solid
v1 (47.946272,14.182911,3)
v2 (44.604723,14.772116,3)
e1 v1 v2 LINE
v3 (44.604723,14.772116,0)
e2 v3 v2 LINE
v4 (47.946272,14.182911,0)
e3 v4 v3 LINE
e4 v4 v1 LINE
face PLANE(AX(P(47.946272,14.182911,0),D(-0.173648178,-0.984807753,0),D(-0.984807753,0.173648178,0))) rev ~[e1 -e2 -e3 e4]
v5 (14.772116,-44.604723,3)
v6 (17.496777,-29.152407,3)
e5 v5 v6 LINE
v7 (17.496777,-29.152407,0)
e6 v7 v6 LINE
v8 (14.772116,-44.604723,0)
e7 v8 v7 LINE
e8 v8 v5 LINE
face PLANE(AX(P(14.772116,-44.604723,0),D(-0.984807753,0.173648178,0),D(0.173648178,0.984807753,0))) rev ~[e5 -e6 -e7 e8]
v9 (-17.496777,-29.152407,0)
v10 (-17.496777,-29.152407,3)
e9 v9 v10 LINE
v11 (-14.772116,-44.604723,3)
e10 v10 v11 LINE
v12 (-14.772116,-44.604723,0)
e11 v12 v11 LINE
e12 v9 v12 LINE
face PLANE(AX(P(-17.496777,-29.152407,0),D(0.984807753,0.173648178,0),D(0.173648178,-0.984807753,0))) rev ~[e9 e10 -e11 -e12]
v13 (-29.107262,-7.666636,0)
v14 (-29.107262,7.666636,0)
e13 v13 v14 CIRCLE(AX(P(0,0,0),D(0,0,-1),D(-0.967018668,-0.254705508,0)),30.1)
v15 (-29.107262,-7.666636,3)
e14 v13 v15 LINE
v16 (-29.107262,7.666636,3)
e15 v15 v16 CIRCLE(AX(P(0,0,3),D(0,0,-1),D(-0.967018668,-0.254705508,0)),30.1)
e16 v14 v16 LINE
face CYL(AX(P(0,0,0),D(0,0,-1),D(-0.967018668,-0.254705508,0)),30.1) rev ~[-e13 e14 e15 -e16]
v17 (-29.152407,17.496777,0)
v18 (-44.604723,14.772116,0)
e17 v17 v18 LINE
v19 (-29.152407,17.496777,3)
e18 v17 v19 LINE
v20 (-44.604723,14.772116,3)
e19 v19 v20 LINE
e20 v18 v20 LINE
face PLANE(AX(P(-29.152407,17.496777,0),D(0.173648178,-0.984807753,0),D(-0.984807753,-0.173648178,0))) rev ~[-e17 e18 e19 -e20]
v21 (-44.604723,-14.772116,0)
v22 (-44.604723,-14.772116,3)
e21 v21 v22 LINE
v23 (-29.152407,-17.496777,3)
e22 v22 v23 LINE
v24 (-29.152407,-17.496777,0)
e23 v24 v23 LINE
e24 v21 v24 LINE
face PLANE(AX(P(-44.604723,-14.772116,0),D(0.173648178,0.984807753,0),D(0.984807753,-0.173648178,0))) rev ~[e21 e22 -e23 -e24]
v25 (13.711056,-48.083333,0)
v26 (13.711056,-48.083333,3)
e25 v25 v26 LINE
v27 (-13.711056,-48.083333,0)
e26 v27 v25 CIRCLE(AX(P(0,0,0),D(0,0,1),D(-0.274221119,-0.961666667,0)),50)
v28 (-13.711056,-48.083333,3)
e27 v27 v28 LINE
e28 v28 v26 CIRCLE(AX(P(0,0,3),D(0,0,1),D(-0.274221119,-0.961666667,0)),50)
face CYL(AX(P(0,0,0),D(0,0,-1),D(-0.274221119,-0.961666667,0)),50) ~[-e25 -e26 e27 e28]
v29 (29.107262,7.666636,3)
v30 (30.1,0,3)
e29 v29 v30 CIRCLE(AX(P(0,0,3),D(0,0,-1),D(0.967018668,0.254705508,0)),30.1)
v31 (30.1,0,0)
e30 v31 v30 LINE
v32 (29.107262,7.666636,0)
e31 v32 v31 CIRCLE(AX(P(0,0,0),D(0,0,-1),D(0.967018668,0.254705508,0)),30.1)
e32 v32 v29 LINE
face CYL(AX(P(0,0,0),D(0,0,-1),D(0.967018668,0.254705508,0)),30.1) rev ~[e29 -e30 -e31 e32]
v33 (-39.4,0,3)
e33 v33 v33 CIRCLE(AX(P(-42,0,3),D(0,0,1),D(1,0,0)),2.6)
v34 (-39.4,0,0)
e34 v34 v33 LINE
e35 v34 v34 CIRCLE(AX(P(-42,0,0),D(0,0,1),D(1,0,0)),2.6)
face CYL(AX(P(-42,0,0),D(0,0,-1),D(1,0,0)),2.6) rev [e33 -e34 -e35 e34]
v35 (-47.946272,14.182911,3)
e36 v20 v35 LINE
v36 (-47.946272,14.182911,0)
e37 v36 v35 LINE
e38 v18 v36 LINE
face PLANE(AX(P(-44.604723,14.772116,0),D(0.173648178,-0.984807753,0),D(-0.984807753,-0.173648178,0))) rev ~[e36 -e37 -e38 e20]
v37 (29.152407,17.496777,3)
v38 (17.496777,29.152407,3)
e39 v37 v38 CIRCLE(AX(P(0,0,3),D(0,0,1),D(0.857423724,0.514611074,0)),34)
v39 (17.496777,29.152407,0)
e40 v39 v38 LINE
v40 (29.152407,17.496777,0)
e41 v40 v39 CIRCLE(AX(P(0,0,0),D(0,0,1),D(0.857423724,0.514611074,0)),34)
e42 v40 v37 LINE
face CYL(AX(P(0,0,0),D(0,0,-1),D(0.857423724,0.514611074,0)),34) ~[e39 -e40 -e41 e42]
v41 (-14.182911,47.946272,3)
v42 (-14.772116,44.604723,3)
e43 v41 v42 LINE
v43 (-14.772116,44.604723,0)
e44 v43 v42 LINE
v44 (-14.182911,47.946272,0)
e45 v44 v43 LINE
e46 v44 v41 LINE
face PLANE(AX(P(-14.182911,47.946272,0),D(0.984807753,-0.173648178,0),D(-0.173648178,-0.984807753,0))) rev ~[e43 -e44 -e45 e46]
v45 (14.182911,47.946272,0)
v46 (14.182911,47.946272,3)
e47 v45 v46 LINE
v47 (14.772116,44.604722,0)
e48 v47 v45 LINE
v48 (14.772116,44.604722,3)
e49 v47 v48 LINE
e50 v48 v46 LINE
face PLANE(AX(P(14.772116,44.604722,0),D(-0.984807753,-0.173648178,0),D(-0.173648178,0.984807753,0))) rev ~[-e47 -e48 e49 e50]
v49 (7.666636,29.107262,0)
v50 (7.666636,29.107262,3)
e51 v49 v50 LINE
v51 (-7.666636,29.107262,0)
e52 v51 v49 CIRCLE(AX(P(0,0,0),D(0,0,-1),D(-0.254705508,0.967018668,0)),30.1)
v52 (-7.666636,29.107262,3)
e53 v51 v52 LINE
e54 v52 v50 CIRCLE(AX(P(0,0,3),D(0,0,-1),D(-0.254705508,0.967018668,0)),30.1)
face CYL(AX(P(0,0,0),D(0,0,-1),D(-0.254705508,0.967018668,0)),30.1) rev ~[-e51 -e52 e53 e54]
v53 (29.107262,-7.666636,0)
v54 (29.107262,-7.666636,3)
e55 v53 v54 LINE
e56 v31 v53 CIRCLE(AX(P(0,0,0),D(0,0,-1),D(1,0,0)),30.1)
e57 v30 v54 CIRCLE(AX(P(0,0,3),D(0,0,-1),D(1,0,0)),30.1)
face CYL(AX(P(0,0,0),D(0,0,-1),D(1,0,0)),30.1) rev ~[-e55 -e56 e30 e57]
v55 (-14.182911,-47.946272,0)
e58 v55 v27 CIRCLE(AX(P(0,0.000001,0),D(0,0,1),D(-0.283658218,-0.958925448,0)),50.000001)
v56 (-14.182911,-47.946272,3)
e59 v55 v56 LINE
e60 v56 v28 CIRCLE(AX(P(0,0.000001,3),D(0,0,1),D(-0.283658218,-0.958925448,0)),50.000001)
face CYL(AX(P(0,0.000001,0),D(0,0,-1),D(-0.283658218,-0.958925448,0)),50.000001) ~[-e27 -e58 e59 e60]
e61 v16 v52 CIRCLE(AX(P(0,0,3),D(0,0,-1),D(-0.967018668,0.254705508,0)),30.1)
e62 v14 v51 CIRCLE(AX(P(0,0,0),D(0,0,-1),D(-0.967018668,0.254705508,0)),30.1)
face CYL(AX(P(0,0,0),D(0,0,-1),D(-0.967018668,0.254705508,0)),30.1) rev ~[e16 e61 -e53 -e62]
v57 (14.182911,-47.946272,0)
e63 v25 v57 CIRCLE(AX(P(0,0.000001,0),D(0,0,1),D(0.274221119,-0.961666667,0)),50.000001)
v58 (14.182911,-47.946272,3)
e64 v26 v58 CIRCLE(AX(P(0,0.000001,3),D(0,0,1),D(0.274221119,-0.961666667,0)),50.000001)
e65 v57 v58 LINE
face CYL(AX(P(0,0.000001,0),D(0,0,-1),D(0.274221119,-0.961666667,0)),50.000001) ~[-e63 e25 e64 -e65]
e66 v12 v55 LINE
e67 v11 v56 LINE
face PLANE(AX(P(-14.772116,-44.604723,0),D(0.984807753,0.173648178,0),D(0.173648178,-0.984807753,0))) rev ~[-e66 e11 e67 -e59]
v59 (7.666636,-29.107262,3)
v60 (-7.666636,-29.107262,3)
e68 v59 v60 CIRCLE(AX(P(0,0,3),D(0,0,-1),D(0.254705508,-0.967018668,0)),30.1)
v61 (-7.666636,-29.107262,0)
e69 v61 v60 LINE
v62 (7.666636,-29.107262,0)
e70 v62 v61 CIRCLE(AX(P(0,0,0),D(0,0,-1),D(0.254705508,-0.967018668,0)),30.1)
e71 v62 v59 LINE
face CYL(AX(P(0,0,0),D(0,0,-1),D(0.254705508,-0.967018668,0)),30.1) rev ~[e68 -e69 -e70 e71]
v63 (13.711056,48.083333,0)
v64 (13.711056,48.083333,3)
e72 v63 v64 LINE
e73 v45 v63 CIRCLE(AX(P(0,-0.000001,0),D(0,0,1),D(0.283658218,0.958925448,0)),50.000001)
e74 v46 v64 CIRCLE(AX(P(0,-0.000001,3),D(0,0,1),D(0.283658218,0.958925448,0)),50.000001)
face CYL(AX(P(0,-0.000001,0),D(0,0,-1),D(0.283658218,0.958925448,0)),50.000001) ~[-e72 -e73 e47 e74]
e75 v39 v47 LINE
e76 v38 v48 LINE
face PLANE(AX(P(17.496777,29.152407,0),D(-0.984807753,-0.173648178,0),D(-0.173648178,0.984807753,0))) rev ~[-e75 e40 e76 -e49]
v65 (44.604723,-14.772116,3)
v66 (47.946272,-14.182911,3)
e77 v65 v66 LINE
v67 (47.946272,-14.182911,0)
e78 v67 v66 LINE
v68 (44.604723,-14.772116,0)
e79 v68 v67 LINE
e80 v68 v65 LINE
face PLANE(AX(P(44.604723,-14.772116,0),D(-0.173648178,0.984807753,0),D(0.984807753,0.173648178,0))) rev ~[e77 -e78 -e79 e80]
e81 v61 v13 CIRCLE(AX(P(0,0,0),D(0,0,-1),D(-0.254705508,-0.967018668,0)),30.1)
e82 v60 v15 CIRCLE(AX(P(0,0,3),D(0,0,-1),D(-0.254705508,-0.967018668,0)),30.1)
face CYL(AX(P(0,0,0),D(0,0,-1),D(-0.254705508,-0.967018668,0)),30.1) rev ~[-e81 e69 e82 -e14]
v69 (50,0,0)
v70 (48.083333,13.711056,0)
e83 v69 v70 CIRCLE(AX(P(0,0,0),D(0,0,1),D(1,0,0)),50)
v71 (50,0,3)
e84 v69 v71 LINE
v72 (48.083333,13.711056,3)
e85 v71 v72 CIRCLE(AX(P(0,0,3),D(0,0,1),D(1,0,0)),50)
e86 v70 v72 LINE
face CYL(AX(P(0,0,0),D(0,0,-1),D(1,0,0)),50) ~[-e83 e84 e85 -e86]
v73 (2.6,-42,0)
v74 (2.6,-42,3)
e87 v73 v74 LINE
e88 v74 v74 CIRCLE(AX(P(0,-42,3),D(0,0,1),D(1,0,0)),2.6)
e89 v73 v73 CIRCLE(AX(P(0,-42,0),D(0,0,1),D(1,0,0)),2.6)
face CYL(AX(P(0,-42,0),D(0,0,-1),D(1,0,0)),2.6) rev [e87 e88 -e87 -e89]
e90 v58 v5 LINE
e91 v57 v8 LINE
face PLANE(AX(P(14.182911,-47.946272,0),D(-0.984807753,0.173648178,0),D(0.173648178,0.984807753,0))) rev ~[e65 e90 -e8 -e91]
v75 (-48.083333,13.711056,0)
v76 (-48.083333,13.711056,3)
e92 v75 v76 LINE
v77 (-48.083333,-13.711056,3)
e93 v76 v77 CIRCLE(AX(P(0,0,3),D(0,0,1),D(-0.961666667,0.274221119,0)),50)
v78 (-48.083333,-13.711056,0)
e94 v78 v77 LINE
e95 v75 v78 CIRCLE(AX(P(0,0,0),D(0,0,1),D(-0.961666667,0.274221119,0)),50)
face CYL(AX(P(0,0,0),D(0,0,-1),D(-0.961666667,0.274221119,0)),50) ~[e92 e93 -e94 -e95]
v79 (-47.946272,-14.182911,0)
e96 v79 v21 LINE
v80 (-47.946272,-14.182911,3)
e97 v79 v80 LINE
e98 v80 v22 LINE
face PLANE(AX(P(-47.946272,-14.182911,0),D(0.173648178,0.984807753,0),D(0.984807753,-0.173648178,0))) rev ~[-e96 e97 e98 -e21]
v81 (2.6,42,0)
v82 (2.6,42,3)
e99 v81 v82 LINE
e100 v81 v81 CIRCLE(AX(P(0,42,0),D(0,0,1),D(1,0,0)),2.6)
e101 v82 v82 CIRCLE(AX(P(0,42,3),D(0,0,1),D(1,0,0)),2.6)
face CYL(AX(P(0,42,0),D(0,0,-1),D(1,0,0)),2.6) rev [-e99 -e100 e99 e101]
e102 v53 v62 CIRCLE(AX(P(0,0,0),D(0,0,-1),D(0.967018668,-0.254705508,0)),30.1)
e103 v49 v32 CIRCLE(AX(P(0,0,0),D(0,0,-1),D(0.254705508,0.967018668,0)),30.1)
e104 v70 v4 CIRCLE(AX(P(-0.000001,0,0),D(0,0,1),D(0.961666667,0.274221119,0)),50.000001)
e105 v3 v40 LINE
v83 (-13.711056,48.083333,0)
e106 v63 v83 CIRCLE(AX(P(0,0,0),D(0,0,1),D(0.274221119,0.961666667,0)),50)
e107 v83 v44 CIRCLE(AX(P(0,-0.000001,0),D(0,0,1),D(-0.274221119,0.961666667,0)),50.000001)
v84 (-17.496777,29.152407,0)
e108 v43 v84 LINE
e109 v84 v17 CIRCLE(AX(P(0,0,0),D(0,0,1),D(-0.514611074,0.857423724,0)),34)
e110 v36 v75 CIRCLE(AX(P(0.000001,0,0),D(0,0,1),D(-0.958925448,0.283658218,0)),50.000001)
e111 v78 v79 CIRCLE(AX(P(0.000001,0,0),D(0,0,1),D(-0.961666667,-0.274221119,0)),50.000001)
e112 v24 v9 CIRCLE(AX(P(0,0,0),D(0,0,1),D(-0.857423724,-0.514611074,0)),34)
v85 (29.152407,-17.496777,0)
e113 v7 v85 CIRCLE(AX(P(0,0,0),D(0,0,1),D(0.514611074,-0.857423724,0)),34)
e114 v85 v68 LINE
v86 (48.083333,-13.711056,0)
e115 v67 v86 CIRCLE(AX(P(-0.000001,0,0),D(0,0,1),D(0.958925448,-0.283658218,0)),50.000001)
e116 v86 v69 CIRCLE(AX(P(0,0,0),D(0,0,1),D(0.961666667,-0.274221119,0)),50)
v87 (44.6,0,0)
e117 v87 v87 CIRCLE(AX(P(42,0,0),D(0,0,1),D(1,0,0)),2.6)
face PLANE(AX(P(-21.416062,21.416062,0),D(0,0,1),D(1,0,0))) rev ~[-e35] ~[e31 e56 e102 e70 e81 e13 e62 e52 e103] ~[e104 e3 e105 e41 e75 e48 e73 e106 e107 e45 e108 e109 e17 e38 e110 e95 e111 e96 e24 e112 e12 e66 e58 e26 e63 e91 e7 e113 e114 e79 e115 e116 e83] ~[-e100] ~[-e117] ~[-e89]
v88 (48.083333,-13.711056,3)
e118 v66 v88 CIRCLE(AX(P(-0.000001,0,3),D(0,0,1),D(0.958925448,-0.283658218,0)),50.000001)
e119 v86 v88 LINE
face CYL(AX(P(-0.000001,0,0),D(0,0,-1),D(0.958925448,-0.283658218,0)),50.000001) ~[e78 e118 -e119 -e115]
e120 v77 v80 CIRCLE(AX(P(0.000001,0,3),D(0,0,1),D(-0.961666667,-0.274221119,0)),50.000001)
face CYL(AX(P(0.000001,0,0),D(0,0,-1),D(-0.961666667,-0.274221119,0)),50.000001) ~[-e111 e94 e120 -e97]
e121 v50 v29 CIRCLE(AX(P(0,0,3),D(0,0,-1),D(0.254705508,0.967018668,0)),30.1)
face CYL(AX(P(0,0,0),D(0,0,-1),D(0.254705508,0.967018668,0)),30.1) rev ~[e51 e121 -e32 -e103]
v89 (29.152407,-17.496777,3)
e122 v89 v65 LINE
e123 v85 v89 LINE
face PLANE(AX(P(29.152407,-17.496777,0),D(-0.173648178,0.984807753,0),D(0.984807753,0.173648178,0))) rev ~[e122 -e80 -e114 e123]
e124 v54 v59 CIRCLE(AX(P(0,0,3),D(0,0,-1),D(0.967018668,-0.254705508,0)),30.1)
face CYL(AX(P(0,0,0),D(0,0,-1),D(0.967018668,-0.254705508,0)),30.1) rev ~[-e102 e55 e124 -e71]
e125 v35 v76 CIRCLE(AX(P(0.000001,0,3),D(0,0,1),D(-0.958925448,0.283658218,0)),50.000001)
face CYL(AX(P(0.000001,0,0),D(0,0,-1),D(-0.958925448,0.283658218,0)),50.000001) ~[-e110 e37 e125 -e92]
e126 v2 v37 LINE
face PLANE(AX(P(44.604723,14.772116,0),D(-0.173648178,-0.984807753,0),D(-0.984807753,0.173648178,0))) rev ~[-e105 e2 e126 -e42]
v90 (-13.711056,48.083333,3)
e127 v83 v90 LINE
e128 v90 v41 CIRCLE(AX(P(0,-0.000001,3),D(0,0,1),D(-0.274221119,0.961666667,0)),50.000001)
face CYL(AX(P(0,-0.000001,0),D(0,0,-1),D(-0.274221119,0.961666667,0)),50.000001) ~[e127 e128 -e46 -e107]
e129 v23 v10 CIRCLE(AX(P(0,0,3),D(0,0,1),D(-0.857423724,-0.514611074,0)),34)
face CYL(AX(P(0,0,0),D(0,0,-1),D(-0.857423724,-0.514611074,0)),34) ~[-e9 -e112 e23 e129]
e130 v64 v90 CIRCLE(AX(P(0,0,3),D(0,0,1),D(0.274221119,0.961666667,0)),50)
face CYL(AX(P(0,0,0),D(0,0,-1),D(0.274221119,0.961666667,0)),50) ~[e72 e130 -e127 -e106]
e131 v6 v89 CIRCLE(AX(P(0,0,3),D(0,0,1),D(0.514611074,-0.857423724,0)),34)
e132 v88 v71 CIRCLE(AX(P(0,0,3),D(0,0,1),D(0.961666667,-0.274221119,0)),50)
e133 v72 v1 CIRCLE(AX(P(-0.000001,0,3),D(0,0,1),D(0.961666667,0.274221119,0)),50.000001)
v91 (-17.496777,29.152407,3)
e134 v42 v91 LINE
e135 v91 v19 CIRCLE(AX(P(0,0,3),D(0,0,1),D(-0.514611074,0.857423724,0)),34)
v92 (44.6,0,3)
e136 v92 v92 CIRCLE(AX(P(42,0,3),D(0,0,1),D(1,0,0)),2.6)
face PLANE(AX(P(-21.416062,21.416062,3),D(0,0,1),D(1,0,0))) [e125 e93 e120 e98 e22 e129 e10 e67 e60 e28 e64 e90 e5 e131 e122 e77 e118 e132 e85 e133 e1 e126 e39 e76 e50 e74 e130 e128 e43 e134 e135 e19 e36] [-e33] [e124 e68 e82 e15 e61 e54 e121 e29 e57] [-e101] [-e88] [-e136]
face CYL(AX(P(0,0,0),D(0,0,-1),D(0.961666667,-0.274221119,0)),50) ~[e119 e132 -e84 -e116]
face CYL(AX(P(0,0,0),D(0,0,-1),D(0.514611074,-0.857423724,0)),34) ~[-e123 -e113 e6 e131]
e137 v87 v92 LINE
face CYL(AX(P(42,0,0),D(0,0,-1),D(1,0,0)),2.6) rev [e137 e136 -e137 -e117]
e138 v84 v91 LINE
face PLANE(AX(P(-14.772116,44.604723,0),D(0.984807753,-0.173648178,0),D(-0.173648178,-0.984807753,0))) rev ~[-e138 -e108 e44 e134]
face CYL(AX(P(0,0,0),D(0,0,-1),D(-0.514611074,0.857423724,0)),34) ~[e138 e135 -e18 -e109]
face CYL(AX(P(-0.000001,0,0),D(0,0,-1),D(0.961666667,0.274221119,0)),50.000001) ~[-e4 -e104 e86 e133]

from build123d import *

# Parameters (mm, degrees)
F0_R     = 2.6
F1_DEPTH = 3


with BuildPart() as f1:
    # F0 (on Top) → F1 (new body)
    with BuildSketch(Plane.XY):
        with BuildLine():
            ThreePointArc((-29.1072619048, 7.6666357946), (-21.2839141137, 21.2839141137), (-7.6666357946, 29.1072619048))
            ThreePointArc((-7.6666357946, 29.1072619048), (-9.5767893278, 30.4550831025), (-11.2543201582, 32.0833333333))
            ThreePointArc((-11.2543201582, 32.0833333333), (-14.4500509711, 30.7765499518), (-17.4967765305, 29.1524066081))
            ThreePointArc((-17.4967765305, 29.1524066081), (-24.0416305603, 24.0416305603), (-29.1524066081, 17.4967765305))
            ThreePointArc((-29.1524066081, 17.4967765305), (-30.7765499518, 14.4500509711), (-32.0833333333, 11.2543201582))
            ThreePointArc((-32.0833333333, 11.2543201582), (-30.4550831025, 9.5767893278), (-29.1072619048, 7.6666357946))
        make_face()
        with BuildLine():
            ThreePointArc((-17.4967765305, 29.1524066081), (-14.4500509711, 30.7765499518), (-11.2543201582, 32.0833333333))
            ThreePointArc((-11.2543201582, 32.0833333333), (-14.4409191932, 37.9429255793), (-14.7721162582, 44.6047228746))
            Line((-14.7721162582, 44.6047228746), (-17.4967765305, 29.1524066081))
        make_face()
        with BuildLine():
            ThreePointArc((-11.2543201582, 32.0833333333), (0, 34), (11.2543201582, 32.0833333333))
            ThreePointArc((11.2543201582, 32.0833333333), (14.0323697637, 36.6997548346), (15, 42))
            ThreePointArc((15, 42), (14.942920488, 43.3073359512), (14.7721163614, 44.6047222892))
            ThreePointArc((14.7721163614, 44.6047222892), (14.3474025552, 46.3763043677), (13.7110559606, 48.0833333333))
            ThreePointArc((13.7110559606, 48.0833333333), (0, 50), (-13.7110559606, 48.0833333333))
            ThreePointArc((-13.7110559606, 48.0833333333), (-14.3474024685, 46.376304652), (-14.7721162582, 44.6047228746))
            ThreePointArc((-14.7721162582, 44.6047228746), (-14.4409191932, 37.9429255793), (-11.2543201582, 32.0833333333))
        make_face()
        with Locations((0, 42)):
            Circle(F0_R, mode=Mode.SUBTRACT)
        with BuildLine():
            ThreePointArc((15, 42), (14.0323697637, 36.6997548346), (11.2543201582, 32.0833333333))
            ThreePointArc((11.2543201582, 32.0833333333), (14.4500509711, 30.7765499518), (17.4967765305, 29.1524066081))
            Line((17.4967765305, 29.1524066081), (14.7721163614, 44.6047222892))
            ThreePointArc((14.7721163614, 44.6047222892), (14.942920488, 43.3073359512), (15, 42))
        make_face()
        with BuildLine():
            ThreePointArc((-7.6666357946, 29.1072619048), (0, 30.1), (7.6666357946, 29.1072619048))
            ThreePointArc((7.6666357946, 29.1072619048), (9.5767893278, 30.4550831025), (11.2543201582, 32.0833333333))
            ThreePointArc((11.2543201582, 32.0833333333), (0, 34), (-11.2543201582, 32.0833333333))
            ThreePointArc((-11.2543201582, 32.0833333333), (-9.5767893278, 30.4550831025), (-7.6666357946, 29.1072619048))
        make_face()
        with BuildLine():
            ThreePointArc((7.6666357946, 29.1072619048), (21.2839141137, 21.2839141137), (29.1072619048, 7.6666357946))
            ThreePointArc((29.1072619048, 7.6666357946), (30.4550831025, 9.5767893278), (32.0833333333, 11.2543201582))
            ThreePointArc((32.0833333333, 11.2543201582), (30.7765499518, 14.4500509711), (29.1524066081, 17.4967765305))
            ThreePointArc((29.1524066081, 17.4967765305), (24.0416305603, 24.0416305603), (17.4967765305, 29.1524066081))
            ThreePointArc((17.4967765305, 29.1524066081), (14.4500509711, 30.7765499518), (11.2543201582, 32.0833333333))
            ThreePointArc((11.2543201582, 32.0833333333), (9.5767893278, 30.4550831025), (7.6666357946, 29.1072619048))
        make_face()
        with BuildLine():
            ThreePointArc((29.1524066081, 17.4967765305), (30.7765499518, 14.4500509711), (32.0833333333, 11.2543201582))
            ThreePointArc((32.0833333333, 11.2543201582), (37.9429254774, 14.4409191646), (44.6047226662, 14.772116295))
            Line((44.6047226662, 14.772116295), (29.1524066081, 17.4967765305))
        make_face()
        with BuildLine():
            ThreePointArc((44.6047226662, 14.772116295), (37.9429254774, 14.4409191646), (32.0833333333, 11.2543201582))
            ThreePointArc((32.0833333333, 11.2543201582), (33.5174084121, 5.7081812632), (34, 0))
            ThreePointArc((34, 0), (33.5174084121, -5.7081812632), (32.0833333333, -11.2543201582))
            ThreePointArc((32.0833333333, -11.2543201582), (37.9429254774, -14.4409191646), (44.6047226662, -14.772116295))
            ThreePointArc((44.6047226662, -14.772116295), (46.3763045508, -14.3474024994), (48.0833333333, -13.7110559606))
            ThreePointArc((48.0833333333, -13.7110559606), (49.5185150558, -6.9221865524), (50, 0))
            ThreePointArc((50, 0), (49.5185150558, 6.9221865524), (48.0833333333, 13.7110559606))
            ThreePointArc((48.0833333333, 13.7110559606), (46.3763045508, 14.3474024994), (44.6047226662, 14.772116295))
        make_face()
        with Locations((42, 0)):
            Circle(F0_R, mode=Mode.SUBTRACT)
        with BuildLine():
            Line((-14.182910918, 47.9462724087), (-14.7721162582, 44.6047228746))
            ThreePointArc((-14.7721162582, 44.6047228746), (-14.3474024685, 46.376304652), (-13.7110559606, 48.0833333333))
            ThreePointArc((-13.7110559606, 48.0833333333), (-13.9471518053, 48.0153824989), (-14.182910918, 47.9462724087))
        make_face()
        with BuildLine():
            ThreePointArc((13.7110559606, 48.0833333333), (14.3474025552, 46.3763043677), (14.7721163614, 44.6047222892))
            Line((14.7721163614, 44.6047222892), (14.182910918, 47.9462724087))
            ThreePointArc((14.182910918, 47.9462724087), (13.9471518053, 48.0153824989), (13.7110559606, 48.0833333333))
        make_face()
        with BuildLine():
            ThreePointArc((44.6047226662, -14.772116295), (37.9429254774, -14.4409191646), (32.0833333333, -11.2543201582))
            ThreePointArc((32.0833333333, -11.2543201582), (30.7765499518, -14.4500509711), (29.1524066081, -17.4967765305))
            Line((29.1524066081, -17.4967765305), (44.6047226662, -14.772116295))
        make_face()
        with BuildLine():
            ThreePointArc((32.0833333333, -11.2543201582), (30.4550831025, -9.5767893278), (29.1072619048, -7.6666357946))
            ThreePointArc((29.1072619048, -7.6666357946), (21.2839141137, -21.2839141137), (7.6666357946, -29.1072619048))
            ThreePointArc((7.6666357946, -29.1072619048), (9.5767893278, -30.4550831025), (11.2543201582, -32.0833333333))
            ThreePointArc((11.2543201582, -32.0833333333), (14.4500509711, -30.7765499518), (17.4967765305, -29.1524066081))
            ThreePointArc((17.4967765305, -29.1524066081), (24.0416305603, -24.0416305603), (29.1524066081, -17.4967765305))
            ThreePointArc((29.1524066081, -17.4967765305), (30.7765499518, -14.4500509711), (32.0833333333, -11.2543201582))
        make_face()
        with BuildLine():
            ThreePointArc((29.1072619048, 7.6666357946), (29.8507837697, 3.8653212458), (30.1, 0))
            ThreePointArc((30.1, 0), (29.8507837697, -3.8653212458), (29.1072619048, -7.6666357946))
            ThreePointArc((29.1072619048, -7.6666357946), (30.4550831025, -9.5767893278), (32.0833333333, -11.2543201582))
            ThreePointArc((32.0833333333, -11.2543201582), (33.5174084121, -5.7081812632), (34, 0))
            ThreePointArc((34, 0), (33.5174084121, 5.7081812632), (32.0833333333, 11.2543201582))
            ThreePointArc((32.0833333333, 11.2543201582), (30.4550831025, 9.5767893278), (29.1072619048, 7.6666357946))
        make_face()
        with BuildLine():
            ThreePointArc((48.0833333333, -13.7110559606), (46.3763045508, -14.3474024994), (44.6047226662, -14.772116295))
            Line((44.6047226662, -14.772116295), (47.9462724087, -14.182910918))
            ThreePointArc((47.9462724087, -14.182910918), (48.0153824989, -13.9471518053), (48.0833333333, -13.7110559606))
        make_face()
        with BuildLine():
            Line((47.9462724087, 14.182910918), (44.6047226662, 14.772116295))
            ThreePointArc((44.6047226662, 14.772116295), (46.3763045508, 14.3474024994), (48.0833333333, 13.7110559606))
            ThreePointArc((48.0833333333, 13.7110559606), (48.0153824989, 13.9471518053), (47.9462724087, 14.182910918))
        make_face()
        with BuildLine():
            ThreePointArc((11.2543201582, -32.0833333333), (9.5767893278, -30.4550831025), (7.6666357946, -29.1072619048))
            ThreePointArc((7.6666357946, -29.1072619048), (0, -30.1), (-7.6666357946, -29.1072619048))
            ThreePointArc((-7.6666357946, -29.1072619048), (-9.5767893278, -30.4550831025), (-11.2543201582, -32.0833333333))
            ThreePointArc((-11.2543201582, -32.0833333333), (0, -34), (11.2543201582, -32.0833333333))
        make_face()
        with BuildLine():
            ThreePointArc((15, -42), (14.0323697637, -36.6997548346), (11.2543201582, -32.0833333333))
            ThreePointArc((11.2543201582, -32.0833333333), (0, -34), (-11.2543201582, -32.0833333333))
            ThreePointArc((-11.2543201582, -32.0833333333), (-14.4409191558, -37.942925446), (-14.7721163063, -44.6047226018))
            ThreePointArc((-14.7721163063, -44.6047226018), (-14.3474025089, -46.3763045195), (-13.7110559606, -48.0833333333))
            ThreePointArc((-13.7110559606, -48.0833333333), (0, -50), (13.7110559606, -48.0833333333))
            ThreePointArc((13.7110559606, -48.0833333333), (14.3474024994, -46.3763045508), (14.772116295, -44.6047226662))
            ThreePointArc((14.772116295, -44.6047226662), (14.9429204713, -43.3073361418), (15, -42))
        make_face()
        with Locations((0, -42)):
            Circle(F0_R, mode=Mode.SUBTRACT)
        with BuildLine():
            ThreePointArc((-14.7721163063, -44.6047226018), (-14.4409191558, -37.942925446), (-11.2543201582, -32.0833333333))
            ThreePointArc((-11.2543201582, -32.0833333333), (-14.4500509711, -30.7765499518), (-17.4967765305, -29.1524066081))
            Line((-17.4967765305, -29.1524066081), (-14.7721163063, -44.6047226018))
        make_face()
        with BuildLine():
            ThreePointArc((-11.2543201582, -32.0833333333), (-9.5767893278, -30.4550831025), (-7.6666357946, -29.1072619048))
            ThreePointArc((-7.6666357946, -29.1072619048), (-21.2839141137, -21.2839141137), (-29.1072619048, -7.6666357946))
            ThreePointArc((-29.1072619048, -7.6666357946), (-30.4550831025, -9.5767893278), (-32.0833333333, -11.2543201582))
            ThreePointArc((-32.0833333333, -11.2543201582), (-30.7765499518, -14.4500509711), (-29.1524066081, -17.4967765305))
            ThreePointArc((-29.1524066081, -17.4967765305), (-24.0416305603, -24.0416305603), (-17.4967765305, -29.1524066081))
            ThreePointArc((-17.4967765305, -29.1524066081), (-14.4500509711, -30.7765499518), (-11.2543201582, -32.0833333333))
        make_face()
        with BuildLine():
            ThreePointArc((17.4967765305, -29.1524066081), (14.4500509711, -30.7765499518), (11.2543201582, -32.0833333333))
            ThreePointArc((11.2543201582, -32.0833333333), (14.0323697637, -36.6997548346), (15, -42))
            ThreePointArc((15, -42), (14.9429204713, -43.3073361418), (14.772116295, -44.6047226662))
            Line((14.772116295, -44.6047226662), (17.4967765305, -29.1524066081))
        make_face()
        with BuildLine():
            Line((14.182910918, -47.9462724087), (14.772116295, -44.6047226662))
            ThreePointArc((14.772116295, -44.6047226662), (14.3474024994, -46.3763045508), (13.7110559606, -48.0833333333))
            ThreePointArc((13.7110559606, -48.0833333333), (13.9471518053, -48.0153824989), (14.182910918, -47.9462724087))
        make_face()
        with BuildLine():
            ThreePointArc((-13.7110559606, -48.0833333333), (-14.3474025089, -46.3763045195), (-14.7721163063, -44.6047226018))
            Line((-14.7721163063, -44.6047226018), (-14.182910918, -47.9462724087))
            ThreePointArc((-14.182910918, -47.9462724087), (-13.9471518053, -48.0153824989), (-13.7110559606, -48.0833333333))
        make_face()
        with BuildLine():
            ThreePointArc((-32.0833333333, -11.2543201582), (-34, 0), (-32.0833333333, 11.2543201582))
            ThreePointArc((-32.0833333333, 11.2543201582), (-37.9429254774, 14.4409191646), (-44.6047226662, 14.772116295))
            ThreePointArc((-44.6047226662, 14.772116295), (-46.3763045508, 14.3474024994), (-48.0833333333, 13.7110559606))
            ThreePointArc((-48.0833333333, 13.7110559606), (-50, 0), (-48.0833333333, -13.7110559606))
            ThreePointArc((-48.0833333333, -13.7110559606), (-46.3763045508, -14.3474024994), (-44.6047226662, -14.772116295))
            ThreePointArc((-44.6047226662, -14.772116295), (-37.9429254774, -14.4409191646), (-32.0833333333, -11.2543201582))
        make_face()
        with Locations((-42, 0)):
            Circle(F0_R, mode=Mode.SUBTRACT)
        with BuildLine():
            ThreePointArc((-29.1524066081, -17.4967765305), (-30.7765499518, -14.4500509711), (-32.0833333333, -11.2543201582))
            ThreePointArc((-32.0833333333, -11.2543201582), (-37.9429254774, -14.4409191646), (-44.6047226662, -14.772116295))
            Line((-44.6047226662, -14.772116295), (-29.1524066081, -17.4967765305))
        make_face()
        with BuildLine():
            ThreePointArc((-29.1072619048, -7.6666357946), (-30.1, 0), (-29.1072619048, 7.6666357946))
            ThreePointArc((-29.1072619048, 7.6666357946), (-30.4550831025, 9.5767893278), (-32.0833333333, 11.2543201582))
            ThreePointArc((-32.0833333333, 11.2543201582), (-34, 0), (-32.0833333333, -11.2543201582))
            ThreePointArc((-32.0833333333, -11.2543201582), (-30.4550831025, -9.5767893278), (-29.1072619048, -7.6666357946))
        make_face()
        with BuildLine():
            ThreePointArc((-44.6047226662, 14.772116295), (-37.9429254774, 14.4409191646), (-32.0833333333, 11.2543201582))
            ThreePointArc((-32.0833333333, 11.2543201582), (-30.7765499518, 14.4500509711), (-29.1524066081, 17.4967765305))
            Line((-29.1524066081, 17.4967765305), (-44.6047226662, 14.772116295))
        make_face()
        with BuildLine():
            ThreePointArc((-48.0833333333, 13.7110559606), (-46.3763045508, 14.3474024994), (-44.6047226662, 14.772116295))
            Line((-44.6047226662, 14.772116295), (-47.9462724087, 14.182910918))
            ThreePointArc((-47.9462724087, 14.182910918), (-48.0153824989, 13.9471518053), (-48.0833333333, 13.7110559606))
        make_face()
        with BuildLine():
            Line((-47.9462724087, -14.182910918), (-44.6047226662, -14.772116295))
            ThreePointArc((-44.6047226662, -14.772116295), (-46.3763045508, -14.3474024994), (-48.0833333333, -13.7110559606))
            ThreePointArc((-48.0833333333, -13.7110559606), (-48.0153824989, -13.9471518053), (-47.9462724087, -14.182910918))
        make_face()
    extrude(amount=F1_DEPTH)


solid = f1.part
